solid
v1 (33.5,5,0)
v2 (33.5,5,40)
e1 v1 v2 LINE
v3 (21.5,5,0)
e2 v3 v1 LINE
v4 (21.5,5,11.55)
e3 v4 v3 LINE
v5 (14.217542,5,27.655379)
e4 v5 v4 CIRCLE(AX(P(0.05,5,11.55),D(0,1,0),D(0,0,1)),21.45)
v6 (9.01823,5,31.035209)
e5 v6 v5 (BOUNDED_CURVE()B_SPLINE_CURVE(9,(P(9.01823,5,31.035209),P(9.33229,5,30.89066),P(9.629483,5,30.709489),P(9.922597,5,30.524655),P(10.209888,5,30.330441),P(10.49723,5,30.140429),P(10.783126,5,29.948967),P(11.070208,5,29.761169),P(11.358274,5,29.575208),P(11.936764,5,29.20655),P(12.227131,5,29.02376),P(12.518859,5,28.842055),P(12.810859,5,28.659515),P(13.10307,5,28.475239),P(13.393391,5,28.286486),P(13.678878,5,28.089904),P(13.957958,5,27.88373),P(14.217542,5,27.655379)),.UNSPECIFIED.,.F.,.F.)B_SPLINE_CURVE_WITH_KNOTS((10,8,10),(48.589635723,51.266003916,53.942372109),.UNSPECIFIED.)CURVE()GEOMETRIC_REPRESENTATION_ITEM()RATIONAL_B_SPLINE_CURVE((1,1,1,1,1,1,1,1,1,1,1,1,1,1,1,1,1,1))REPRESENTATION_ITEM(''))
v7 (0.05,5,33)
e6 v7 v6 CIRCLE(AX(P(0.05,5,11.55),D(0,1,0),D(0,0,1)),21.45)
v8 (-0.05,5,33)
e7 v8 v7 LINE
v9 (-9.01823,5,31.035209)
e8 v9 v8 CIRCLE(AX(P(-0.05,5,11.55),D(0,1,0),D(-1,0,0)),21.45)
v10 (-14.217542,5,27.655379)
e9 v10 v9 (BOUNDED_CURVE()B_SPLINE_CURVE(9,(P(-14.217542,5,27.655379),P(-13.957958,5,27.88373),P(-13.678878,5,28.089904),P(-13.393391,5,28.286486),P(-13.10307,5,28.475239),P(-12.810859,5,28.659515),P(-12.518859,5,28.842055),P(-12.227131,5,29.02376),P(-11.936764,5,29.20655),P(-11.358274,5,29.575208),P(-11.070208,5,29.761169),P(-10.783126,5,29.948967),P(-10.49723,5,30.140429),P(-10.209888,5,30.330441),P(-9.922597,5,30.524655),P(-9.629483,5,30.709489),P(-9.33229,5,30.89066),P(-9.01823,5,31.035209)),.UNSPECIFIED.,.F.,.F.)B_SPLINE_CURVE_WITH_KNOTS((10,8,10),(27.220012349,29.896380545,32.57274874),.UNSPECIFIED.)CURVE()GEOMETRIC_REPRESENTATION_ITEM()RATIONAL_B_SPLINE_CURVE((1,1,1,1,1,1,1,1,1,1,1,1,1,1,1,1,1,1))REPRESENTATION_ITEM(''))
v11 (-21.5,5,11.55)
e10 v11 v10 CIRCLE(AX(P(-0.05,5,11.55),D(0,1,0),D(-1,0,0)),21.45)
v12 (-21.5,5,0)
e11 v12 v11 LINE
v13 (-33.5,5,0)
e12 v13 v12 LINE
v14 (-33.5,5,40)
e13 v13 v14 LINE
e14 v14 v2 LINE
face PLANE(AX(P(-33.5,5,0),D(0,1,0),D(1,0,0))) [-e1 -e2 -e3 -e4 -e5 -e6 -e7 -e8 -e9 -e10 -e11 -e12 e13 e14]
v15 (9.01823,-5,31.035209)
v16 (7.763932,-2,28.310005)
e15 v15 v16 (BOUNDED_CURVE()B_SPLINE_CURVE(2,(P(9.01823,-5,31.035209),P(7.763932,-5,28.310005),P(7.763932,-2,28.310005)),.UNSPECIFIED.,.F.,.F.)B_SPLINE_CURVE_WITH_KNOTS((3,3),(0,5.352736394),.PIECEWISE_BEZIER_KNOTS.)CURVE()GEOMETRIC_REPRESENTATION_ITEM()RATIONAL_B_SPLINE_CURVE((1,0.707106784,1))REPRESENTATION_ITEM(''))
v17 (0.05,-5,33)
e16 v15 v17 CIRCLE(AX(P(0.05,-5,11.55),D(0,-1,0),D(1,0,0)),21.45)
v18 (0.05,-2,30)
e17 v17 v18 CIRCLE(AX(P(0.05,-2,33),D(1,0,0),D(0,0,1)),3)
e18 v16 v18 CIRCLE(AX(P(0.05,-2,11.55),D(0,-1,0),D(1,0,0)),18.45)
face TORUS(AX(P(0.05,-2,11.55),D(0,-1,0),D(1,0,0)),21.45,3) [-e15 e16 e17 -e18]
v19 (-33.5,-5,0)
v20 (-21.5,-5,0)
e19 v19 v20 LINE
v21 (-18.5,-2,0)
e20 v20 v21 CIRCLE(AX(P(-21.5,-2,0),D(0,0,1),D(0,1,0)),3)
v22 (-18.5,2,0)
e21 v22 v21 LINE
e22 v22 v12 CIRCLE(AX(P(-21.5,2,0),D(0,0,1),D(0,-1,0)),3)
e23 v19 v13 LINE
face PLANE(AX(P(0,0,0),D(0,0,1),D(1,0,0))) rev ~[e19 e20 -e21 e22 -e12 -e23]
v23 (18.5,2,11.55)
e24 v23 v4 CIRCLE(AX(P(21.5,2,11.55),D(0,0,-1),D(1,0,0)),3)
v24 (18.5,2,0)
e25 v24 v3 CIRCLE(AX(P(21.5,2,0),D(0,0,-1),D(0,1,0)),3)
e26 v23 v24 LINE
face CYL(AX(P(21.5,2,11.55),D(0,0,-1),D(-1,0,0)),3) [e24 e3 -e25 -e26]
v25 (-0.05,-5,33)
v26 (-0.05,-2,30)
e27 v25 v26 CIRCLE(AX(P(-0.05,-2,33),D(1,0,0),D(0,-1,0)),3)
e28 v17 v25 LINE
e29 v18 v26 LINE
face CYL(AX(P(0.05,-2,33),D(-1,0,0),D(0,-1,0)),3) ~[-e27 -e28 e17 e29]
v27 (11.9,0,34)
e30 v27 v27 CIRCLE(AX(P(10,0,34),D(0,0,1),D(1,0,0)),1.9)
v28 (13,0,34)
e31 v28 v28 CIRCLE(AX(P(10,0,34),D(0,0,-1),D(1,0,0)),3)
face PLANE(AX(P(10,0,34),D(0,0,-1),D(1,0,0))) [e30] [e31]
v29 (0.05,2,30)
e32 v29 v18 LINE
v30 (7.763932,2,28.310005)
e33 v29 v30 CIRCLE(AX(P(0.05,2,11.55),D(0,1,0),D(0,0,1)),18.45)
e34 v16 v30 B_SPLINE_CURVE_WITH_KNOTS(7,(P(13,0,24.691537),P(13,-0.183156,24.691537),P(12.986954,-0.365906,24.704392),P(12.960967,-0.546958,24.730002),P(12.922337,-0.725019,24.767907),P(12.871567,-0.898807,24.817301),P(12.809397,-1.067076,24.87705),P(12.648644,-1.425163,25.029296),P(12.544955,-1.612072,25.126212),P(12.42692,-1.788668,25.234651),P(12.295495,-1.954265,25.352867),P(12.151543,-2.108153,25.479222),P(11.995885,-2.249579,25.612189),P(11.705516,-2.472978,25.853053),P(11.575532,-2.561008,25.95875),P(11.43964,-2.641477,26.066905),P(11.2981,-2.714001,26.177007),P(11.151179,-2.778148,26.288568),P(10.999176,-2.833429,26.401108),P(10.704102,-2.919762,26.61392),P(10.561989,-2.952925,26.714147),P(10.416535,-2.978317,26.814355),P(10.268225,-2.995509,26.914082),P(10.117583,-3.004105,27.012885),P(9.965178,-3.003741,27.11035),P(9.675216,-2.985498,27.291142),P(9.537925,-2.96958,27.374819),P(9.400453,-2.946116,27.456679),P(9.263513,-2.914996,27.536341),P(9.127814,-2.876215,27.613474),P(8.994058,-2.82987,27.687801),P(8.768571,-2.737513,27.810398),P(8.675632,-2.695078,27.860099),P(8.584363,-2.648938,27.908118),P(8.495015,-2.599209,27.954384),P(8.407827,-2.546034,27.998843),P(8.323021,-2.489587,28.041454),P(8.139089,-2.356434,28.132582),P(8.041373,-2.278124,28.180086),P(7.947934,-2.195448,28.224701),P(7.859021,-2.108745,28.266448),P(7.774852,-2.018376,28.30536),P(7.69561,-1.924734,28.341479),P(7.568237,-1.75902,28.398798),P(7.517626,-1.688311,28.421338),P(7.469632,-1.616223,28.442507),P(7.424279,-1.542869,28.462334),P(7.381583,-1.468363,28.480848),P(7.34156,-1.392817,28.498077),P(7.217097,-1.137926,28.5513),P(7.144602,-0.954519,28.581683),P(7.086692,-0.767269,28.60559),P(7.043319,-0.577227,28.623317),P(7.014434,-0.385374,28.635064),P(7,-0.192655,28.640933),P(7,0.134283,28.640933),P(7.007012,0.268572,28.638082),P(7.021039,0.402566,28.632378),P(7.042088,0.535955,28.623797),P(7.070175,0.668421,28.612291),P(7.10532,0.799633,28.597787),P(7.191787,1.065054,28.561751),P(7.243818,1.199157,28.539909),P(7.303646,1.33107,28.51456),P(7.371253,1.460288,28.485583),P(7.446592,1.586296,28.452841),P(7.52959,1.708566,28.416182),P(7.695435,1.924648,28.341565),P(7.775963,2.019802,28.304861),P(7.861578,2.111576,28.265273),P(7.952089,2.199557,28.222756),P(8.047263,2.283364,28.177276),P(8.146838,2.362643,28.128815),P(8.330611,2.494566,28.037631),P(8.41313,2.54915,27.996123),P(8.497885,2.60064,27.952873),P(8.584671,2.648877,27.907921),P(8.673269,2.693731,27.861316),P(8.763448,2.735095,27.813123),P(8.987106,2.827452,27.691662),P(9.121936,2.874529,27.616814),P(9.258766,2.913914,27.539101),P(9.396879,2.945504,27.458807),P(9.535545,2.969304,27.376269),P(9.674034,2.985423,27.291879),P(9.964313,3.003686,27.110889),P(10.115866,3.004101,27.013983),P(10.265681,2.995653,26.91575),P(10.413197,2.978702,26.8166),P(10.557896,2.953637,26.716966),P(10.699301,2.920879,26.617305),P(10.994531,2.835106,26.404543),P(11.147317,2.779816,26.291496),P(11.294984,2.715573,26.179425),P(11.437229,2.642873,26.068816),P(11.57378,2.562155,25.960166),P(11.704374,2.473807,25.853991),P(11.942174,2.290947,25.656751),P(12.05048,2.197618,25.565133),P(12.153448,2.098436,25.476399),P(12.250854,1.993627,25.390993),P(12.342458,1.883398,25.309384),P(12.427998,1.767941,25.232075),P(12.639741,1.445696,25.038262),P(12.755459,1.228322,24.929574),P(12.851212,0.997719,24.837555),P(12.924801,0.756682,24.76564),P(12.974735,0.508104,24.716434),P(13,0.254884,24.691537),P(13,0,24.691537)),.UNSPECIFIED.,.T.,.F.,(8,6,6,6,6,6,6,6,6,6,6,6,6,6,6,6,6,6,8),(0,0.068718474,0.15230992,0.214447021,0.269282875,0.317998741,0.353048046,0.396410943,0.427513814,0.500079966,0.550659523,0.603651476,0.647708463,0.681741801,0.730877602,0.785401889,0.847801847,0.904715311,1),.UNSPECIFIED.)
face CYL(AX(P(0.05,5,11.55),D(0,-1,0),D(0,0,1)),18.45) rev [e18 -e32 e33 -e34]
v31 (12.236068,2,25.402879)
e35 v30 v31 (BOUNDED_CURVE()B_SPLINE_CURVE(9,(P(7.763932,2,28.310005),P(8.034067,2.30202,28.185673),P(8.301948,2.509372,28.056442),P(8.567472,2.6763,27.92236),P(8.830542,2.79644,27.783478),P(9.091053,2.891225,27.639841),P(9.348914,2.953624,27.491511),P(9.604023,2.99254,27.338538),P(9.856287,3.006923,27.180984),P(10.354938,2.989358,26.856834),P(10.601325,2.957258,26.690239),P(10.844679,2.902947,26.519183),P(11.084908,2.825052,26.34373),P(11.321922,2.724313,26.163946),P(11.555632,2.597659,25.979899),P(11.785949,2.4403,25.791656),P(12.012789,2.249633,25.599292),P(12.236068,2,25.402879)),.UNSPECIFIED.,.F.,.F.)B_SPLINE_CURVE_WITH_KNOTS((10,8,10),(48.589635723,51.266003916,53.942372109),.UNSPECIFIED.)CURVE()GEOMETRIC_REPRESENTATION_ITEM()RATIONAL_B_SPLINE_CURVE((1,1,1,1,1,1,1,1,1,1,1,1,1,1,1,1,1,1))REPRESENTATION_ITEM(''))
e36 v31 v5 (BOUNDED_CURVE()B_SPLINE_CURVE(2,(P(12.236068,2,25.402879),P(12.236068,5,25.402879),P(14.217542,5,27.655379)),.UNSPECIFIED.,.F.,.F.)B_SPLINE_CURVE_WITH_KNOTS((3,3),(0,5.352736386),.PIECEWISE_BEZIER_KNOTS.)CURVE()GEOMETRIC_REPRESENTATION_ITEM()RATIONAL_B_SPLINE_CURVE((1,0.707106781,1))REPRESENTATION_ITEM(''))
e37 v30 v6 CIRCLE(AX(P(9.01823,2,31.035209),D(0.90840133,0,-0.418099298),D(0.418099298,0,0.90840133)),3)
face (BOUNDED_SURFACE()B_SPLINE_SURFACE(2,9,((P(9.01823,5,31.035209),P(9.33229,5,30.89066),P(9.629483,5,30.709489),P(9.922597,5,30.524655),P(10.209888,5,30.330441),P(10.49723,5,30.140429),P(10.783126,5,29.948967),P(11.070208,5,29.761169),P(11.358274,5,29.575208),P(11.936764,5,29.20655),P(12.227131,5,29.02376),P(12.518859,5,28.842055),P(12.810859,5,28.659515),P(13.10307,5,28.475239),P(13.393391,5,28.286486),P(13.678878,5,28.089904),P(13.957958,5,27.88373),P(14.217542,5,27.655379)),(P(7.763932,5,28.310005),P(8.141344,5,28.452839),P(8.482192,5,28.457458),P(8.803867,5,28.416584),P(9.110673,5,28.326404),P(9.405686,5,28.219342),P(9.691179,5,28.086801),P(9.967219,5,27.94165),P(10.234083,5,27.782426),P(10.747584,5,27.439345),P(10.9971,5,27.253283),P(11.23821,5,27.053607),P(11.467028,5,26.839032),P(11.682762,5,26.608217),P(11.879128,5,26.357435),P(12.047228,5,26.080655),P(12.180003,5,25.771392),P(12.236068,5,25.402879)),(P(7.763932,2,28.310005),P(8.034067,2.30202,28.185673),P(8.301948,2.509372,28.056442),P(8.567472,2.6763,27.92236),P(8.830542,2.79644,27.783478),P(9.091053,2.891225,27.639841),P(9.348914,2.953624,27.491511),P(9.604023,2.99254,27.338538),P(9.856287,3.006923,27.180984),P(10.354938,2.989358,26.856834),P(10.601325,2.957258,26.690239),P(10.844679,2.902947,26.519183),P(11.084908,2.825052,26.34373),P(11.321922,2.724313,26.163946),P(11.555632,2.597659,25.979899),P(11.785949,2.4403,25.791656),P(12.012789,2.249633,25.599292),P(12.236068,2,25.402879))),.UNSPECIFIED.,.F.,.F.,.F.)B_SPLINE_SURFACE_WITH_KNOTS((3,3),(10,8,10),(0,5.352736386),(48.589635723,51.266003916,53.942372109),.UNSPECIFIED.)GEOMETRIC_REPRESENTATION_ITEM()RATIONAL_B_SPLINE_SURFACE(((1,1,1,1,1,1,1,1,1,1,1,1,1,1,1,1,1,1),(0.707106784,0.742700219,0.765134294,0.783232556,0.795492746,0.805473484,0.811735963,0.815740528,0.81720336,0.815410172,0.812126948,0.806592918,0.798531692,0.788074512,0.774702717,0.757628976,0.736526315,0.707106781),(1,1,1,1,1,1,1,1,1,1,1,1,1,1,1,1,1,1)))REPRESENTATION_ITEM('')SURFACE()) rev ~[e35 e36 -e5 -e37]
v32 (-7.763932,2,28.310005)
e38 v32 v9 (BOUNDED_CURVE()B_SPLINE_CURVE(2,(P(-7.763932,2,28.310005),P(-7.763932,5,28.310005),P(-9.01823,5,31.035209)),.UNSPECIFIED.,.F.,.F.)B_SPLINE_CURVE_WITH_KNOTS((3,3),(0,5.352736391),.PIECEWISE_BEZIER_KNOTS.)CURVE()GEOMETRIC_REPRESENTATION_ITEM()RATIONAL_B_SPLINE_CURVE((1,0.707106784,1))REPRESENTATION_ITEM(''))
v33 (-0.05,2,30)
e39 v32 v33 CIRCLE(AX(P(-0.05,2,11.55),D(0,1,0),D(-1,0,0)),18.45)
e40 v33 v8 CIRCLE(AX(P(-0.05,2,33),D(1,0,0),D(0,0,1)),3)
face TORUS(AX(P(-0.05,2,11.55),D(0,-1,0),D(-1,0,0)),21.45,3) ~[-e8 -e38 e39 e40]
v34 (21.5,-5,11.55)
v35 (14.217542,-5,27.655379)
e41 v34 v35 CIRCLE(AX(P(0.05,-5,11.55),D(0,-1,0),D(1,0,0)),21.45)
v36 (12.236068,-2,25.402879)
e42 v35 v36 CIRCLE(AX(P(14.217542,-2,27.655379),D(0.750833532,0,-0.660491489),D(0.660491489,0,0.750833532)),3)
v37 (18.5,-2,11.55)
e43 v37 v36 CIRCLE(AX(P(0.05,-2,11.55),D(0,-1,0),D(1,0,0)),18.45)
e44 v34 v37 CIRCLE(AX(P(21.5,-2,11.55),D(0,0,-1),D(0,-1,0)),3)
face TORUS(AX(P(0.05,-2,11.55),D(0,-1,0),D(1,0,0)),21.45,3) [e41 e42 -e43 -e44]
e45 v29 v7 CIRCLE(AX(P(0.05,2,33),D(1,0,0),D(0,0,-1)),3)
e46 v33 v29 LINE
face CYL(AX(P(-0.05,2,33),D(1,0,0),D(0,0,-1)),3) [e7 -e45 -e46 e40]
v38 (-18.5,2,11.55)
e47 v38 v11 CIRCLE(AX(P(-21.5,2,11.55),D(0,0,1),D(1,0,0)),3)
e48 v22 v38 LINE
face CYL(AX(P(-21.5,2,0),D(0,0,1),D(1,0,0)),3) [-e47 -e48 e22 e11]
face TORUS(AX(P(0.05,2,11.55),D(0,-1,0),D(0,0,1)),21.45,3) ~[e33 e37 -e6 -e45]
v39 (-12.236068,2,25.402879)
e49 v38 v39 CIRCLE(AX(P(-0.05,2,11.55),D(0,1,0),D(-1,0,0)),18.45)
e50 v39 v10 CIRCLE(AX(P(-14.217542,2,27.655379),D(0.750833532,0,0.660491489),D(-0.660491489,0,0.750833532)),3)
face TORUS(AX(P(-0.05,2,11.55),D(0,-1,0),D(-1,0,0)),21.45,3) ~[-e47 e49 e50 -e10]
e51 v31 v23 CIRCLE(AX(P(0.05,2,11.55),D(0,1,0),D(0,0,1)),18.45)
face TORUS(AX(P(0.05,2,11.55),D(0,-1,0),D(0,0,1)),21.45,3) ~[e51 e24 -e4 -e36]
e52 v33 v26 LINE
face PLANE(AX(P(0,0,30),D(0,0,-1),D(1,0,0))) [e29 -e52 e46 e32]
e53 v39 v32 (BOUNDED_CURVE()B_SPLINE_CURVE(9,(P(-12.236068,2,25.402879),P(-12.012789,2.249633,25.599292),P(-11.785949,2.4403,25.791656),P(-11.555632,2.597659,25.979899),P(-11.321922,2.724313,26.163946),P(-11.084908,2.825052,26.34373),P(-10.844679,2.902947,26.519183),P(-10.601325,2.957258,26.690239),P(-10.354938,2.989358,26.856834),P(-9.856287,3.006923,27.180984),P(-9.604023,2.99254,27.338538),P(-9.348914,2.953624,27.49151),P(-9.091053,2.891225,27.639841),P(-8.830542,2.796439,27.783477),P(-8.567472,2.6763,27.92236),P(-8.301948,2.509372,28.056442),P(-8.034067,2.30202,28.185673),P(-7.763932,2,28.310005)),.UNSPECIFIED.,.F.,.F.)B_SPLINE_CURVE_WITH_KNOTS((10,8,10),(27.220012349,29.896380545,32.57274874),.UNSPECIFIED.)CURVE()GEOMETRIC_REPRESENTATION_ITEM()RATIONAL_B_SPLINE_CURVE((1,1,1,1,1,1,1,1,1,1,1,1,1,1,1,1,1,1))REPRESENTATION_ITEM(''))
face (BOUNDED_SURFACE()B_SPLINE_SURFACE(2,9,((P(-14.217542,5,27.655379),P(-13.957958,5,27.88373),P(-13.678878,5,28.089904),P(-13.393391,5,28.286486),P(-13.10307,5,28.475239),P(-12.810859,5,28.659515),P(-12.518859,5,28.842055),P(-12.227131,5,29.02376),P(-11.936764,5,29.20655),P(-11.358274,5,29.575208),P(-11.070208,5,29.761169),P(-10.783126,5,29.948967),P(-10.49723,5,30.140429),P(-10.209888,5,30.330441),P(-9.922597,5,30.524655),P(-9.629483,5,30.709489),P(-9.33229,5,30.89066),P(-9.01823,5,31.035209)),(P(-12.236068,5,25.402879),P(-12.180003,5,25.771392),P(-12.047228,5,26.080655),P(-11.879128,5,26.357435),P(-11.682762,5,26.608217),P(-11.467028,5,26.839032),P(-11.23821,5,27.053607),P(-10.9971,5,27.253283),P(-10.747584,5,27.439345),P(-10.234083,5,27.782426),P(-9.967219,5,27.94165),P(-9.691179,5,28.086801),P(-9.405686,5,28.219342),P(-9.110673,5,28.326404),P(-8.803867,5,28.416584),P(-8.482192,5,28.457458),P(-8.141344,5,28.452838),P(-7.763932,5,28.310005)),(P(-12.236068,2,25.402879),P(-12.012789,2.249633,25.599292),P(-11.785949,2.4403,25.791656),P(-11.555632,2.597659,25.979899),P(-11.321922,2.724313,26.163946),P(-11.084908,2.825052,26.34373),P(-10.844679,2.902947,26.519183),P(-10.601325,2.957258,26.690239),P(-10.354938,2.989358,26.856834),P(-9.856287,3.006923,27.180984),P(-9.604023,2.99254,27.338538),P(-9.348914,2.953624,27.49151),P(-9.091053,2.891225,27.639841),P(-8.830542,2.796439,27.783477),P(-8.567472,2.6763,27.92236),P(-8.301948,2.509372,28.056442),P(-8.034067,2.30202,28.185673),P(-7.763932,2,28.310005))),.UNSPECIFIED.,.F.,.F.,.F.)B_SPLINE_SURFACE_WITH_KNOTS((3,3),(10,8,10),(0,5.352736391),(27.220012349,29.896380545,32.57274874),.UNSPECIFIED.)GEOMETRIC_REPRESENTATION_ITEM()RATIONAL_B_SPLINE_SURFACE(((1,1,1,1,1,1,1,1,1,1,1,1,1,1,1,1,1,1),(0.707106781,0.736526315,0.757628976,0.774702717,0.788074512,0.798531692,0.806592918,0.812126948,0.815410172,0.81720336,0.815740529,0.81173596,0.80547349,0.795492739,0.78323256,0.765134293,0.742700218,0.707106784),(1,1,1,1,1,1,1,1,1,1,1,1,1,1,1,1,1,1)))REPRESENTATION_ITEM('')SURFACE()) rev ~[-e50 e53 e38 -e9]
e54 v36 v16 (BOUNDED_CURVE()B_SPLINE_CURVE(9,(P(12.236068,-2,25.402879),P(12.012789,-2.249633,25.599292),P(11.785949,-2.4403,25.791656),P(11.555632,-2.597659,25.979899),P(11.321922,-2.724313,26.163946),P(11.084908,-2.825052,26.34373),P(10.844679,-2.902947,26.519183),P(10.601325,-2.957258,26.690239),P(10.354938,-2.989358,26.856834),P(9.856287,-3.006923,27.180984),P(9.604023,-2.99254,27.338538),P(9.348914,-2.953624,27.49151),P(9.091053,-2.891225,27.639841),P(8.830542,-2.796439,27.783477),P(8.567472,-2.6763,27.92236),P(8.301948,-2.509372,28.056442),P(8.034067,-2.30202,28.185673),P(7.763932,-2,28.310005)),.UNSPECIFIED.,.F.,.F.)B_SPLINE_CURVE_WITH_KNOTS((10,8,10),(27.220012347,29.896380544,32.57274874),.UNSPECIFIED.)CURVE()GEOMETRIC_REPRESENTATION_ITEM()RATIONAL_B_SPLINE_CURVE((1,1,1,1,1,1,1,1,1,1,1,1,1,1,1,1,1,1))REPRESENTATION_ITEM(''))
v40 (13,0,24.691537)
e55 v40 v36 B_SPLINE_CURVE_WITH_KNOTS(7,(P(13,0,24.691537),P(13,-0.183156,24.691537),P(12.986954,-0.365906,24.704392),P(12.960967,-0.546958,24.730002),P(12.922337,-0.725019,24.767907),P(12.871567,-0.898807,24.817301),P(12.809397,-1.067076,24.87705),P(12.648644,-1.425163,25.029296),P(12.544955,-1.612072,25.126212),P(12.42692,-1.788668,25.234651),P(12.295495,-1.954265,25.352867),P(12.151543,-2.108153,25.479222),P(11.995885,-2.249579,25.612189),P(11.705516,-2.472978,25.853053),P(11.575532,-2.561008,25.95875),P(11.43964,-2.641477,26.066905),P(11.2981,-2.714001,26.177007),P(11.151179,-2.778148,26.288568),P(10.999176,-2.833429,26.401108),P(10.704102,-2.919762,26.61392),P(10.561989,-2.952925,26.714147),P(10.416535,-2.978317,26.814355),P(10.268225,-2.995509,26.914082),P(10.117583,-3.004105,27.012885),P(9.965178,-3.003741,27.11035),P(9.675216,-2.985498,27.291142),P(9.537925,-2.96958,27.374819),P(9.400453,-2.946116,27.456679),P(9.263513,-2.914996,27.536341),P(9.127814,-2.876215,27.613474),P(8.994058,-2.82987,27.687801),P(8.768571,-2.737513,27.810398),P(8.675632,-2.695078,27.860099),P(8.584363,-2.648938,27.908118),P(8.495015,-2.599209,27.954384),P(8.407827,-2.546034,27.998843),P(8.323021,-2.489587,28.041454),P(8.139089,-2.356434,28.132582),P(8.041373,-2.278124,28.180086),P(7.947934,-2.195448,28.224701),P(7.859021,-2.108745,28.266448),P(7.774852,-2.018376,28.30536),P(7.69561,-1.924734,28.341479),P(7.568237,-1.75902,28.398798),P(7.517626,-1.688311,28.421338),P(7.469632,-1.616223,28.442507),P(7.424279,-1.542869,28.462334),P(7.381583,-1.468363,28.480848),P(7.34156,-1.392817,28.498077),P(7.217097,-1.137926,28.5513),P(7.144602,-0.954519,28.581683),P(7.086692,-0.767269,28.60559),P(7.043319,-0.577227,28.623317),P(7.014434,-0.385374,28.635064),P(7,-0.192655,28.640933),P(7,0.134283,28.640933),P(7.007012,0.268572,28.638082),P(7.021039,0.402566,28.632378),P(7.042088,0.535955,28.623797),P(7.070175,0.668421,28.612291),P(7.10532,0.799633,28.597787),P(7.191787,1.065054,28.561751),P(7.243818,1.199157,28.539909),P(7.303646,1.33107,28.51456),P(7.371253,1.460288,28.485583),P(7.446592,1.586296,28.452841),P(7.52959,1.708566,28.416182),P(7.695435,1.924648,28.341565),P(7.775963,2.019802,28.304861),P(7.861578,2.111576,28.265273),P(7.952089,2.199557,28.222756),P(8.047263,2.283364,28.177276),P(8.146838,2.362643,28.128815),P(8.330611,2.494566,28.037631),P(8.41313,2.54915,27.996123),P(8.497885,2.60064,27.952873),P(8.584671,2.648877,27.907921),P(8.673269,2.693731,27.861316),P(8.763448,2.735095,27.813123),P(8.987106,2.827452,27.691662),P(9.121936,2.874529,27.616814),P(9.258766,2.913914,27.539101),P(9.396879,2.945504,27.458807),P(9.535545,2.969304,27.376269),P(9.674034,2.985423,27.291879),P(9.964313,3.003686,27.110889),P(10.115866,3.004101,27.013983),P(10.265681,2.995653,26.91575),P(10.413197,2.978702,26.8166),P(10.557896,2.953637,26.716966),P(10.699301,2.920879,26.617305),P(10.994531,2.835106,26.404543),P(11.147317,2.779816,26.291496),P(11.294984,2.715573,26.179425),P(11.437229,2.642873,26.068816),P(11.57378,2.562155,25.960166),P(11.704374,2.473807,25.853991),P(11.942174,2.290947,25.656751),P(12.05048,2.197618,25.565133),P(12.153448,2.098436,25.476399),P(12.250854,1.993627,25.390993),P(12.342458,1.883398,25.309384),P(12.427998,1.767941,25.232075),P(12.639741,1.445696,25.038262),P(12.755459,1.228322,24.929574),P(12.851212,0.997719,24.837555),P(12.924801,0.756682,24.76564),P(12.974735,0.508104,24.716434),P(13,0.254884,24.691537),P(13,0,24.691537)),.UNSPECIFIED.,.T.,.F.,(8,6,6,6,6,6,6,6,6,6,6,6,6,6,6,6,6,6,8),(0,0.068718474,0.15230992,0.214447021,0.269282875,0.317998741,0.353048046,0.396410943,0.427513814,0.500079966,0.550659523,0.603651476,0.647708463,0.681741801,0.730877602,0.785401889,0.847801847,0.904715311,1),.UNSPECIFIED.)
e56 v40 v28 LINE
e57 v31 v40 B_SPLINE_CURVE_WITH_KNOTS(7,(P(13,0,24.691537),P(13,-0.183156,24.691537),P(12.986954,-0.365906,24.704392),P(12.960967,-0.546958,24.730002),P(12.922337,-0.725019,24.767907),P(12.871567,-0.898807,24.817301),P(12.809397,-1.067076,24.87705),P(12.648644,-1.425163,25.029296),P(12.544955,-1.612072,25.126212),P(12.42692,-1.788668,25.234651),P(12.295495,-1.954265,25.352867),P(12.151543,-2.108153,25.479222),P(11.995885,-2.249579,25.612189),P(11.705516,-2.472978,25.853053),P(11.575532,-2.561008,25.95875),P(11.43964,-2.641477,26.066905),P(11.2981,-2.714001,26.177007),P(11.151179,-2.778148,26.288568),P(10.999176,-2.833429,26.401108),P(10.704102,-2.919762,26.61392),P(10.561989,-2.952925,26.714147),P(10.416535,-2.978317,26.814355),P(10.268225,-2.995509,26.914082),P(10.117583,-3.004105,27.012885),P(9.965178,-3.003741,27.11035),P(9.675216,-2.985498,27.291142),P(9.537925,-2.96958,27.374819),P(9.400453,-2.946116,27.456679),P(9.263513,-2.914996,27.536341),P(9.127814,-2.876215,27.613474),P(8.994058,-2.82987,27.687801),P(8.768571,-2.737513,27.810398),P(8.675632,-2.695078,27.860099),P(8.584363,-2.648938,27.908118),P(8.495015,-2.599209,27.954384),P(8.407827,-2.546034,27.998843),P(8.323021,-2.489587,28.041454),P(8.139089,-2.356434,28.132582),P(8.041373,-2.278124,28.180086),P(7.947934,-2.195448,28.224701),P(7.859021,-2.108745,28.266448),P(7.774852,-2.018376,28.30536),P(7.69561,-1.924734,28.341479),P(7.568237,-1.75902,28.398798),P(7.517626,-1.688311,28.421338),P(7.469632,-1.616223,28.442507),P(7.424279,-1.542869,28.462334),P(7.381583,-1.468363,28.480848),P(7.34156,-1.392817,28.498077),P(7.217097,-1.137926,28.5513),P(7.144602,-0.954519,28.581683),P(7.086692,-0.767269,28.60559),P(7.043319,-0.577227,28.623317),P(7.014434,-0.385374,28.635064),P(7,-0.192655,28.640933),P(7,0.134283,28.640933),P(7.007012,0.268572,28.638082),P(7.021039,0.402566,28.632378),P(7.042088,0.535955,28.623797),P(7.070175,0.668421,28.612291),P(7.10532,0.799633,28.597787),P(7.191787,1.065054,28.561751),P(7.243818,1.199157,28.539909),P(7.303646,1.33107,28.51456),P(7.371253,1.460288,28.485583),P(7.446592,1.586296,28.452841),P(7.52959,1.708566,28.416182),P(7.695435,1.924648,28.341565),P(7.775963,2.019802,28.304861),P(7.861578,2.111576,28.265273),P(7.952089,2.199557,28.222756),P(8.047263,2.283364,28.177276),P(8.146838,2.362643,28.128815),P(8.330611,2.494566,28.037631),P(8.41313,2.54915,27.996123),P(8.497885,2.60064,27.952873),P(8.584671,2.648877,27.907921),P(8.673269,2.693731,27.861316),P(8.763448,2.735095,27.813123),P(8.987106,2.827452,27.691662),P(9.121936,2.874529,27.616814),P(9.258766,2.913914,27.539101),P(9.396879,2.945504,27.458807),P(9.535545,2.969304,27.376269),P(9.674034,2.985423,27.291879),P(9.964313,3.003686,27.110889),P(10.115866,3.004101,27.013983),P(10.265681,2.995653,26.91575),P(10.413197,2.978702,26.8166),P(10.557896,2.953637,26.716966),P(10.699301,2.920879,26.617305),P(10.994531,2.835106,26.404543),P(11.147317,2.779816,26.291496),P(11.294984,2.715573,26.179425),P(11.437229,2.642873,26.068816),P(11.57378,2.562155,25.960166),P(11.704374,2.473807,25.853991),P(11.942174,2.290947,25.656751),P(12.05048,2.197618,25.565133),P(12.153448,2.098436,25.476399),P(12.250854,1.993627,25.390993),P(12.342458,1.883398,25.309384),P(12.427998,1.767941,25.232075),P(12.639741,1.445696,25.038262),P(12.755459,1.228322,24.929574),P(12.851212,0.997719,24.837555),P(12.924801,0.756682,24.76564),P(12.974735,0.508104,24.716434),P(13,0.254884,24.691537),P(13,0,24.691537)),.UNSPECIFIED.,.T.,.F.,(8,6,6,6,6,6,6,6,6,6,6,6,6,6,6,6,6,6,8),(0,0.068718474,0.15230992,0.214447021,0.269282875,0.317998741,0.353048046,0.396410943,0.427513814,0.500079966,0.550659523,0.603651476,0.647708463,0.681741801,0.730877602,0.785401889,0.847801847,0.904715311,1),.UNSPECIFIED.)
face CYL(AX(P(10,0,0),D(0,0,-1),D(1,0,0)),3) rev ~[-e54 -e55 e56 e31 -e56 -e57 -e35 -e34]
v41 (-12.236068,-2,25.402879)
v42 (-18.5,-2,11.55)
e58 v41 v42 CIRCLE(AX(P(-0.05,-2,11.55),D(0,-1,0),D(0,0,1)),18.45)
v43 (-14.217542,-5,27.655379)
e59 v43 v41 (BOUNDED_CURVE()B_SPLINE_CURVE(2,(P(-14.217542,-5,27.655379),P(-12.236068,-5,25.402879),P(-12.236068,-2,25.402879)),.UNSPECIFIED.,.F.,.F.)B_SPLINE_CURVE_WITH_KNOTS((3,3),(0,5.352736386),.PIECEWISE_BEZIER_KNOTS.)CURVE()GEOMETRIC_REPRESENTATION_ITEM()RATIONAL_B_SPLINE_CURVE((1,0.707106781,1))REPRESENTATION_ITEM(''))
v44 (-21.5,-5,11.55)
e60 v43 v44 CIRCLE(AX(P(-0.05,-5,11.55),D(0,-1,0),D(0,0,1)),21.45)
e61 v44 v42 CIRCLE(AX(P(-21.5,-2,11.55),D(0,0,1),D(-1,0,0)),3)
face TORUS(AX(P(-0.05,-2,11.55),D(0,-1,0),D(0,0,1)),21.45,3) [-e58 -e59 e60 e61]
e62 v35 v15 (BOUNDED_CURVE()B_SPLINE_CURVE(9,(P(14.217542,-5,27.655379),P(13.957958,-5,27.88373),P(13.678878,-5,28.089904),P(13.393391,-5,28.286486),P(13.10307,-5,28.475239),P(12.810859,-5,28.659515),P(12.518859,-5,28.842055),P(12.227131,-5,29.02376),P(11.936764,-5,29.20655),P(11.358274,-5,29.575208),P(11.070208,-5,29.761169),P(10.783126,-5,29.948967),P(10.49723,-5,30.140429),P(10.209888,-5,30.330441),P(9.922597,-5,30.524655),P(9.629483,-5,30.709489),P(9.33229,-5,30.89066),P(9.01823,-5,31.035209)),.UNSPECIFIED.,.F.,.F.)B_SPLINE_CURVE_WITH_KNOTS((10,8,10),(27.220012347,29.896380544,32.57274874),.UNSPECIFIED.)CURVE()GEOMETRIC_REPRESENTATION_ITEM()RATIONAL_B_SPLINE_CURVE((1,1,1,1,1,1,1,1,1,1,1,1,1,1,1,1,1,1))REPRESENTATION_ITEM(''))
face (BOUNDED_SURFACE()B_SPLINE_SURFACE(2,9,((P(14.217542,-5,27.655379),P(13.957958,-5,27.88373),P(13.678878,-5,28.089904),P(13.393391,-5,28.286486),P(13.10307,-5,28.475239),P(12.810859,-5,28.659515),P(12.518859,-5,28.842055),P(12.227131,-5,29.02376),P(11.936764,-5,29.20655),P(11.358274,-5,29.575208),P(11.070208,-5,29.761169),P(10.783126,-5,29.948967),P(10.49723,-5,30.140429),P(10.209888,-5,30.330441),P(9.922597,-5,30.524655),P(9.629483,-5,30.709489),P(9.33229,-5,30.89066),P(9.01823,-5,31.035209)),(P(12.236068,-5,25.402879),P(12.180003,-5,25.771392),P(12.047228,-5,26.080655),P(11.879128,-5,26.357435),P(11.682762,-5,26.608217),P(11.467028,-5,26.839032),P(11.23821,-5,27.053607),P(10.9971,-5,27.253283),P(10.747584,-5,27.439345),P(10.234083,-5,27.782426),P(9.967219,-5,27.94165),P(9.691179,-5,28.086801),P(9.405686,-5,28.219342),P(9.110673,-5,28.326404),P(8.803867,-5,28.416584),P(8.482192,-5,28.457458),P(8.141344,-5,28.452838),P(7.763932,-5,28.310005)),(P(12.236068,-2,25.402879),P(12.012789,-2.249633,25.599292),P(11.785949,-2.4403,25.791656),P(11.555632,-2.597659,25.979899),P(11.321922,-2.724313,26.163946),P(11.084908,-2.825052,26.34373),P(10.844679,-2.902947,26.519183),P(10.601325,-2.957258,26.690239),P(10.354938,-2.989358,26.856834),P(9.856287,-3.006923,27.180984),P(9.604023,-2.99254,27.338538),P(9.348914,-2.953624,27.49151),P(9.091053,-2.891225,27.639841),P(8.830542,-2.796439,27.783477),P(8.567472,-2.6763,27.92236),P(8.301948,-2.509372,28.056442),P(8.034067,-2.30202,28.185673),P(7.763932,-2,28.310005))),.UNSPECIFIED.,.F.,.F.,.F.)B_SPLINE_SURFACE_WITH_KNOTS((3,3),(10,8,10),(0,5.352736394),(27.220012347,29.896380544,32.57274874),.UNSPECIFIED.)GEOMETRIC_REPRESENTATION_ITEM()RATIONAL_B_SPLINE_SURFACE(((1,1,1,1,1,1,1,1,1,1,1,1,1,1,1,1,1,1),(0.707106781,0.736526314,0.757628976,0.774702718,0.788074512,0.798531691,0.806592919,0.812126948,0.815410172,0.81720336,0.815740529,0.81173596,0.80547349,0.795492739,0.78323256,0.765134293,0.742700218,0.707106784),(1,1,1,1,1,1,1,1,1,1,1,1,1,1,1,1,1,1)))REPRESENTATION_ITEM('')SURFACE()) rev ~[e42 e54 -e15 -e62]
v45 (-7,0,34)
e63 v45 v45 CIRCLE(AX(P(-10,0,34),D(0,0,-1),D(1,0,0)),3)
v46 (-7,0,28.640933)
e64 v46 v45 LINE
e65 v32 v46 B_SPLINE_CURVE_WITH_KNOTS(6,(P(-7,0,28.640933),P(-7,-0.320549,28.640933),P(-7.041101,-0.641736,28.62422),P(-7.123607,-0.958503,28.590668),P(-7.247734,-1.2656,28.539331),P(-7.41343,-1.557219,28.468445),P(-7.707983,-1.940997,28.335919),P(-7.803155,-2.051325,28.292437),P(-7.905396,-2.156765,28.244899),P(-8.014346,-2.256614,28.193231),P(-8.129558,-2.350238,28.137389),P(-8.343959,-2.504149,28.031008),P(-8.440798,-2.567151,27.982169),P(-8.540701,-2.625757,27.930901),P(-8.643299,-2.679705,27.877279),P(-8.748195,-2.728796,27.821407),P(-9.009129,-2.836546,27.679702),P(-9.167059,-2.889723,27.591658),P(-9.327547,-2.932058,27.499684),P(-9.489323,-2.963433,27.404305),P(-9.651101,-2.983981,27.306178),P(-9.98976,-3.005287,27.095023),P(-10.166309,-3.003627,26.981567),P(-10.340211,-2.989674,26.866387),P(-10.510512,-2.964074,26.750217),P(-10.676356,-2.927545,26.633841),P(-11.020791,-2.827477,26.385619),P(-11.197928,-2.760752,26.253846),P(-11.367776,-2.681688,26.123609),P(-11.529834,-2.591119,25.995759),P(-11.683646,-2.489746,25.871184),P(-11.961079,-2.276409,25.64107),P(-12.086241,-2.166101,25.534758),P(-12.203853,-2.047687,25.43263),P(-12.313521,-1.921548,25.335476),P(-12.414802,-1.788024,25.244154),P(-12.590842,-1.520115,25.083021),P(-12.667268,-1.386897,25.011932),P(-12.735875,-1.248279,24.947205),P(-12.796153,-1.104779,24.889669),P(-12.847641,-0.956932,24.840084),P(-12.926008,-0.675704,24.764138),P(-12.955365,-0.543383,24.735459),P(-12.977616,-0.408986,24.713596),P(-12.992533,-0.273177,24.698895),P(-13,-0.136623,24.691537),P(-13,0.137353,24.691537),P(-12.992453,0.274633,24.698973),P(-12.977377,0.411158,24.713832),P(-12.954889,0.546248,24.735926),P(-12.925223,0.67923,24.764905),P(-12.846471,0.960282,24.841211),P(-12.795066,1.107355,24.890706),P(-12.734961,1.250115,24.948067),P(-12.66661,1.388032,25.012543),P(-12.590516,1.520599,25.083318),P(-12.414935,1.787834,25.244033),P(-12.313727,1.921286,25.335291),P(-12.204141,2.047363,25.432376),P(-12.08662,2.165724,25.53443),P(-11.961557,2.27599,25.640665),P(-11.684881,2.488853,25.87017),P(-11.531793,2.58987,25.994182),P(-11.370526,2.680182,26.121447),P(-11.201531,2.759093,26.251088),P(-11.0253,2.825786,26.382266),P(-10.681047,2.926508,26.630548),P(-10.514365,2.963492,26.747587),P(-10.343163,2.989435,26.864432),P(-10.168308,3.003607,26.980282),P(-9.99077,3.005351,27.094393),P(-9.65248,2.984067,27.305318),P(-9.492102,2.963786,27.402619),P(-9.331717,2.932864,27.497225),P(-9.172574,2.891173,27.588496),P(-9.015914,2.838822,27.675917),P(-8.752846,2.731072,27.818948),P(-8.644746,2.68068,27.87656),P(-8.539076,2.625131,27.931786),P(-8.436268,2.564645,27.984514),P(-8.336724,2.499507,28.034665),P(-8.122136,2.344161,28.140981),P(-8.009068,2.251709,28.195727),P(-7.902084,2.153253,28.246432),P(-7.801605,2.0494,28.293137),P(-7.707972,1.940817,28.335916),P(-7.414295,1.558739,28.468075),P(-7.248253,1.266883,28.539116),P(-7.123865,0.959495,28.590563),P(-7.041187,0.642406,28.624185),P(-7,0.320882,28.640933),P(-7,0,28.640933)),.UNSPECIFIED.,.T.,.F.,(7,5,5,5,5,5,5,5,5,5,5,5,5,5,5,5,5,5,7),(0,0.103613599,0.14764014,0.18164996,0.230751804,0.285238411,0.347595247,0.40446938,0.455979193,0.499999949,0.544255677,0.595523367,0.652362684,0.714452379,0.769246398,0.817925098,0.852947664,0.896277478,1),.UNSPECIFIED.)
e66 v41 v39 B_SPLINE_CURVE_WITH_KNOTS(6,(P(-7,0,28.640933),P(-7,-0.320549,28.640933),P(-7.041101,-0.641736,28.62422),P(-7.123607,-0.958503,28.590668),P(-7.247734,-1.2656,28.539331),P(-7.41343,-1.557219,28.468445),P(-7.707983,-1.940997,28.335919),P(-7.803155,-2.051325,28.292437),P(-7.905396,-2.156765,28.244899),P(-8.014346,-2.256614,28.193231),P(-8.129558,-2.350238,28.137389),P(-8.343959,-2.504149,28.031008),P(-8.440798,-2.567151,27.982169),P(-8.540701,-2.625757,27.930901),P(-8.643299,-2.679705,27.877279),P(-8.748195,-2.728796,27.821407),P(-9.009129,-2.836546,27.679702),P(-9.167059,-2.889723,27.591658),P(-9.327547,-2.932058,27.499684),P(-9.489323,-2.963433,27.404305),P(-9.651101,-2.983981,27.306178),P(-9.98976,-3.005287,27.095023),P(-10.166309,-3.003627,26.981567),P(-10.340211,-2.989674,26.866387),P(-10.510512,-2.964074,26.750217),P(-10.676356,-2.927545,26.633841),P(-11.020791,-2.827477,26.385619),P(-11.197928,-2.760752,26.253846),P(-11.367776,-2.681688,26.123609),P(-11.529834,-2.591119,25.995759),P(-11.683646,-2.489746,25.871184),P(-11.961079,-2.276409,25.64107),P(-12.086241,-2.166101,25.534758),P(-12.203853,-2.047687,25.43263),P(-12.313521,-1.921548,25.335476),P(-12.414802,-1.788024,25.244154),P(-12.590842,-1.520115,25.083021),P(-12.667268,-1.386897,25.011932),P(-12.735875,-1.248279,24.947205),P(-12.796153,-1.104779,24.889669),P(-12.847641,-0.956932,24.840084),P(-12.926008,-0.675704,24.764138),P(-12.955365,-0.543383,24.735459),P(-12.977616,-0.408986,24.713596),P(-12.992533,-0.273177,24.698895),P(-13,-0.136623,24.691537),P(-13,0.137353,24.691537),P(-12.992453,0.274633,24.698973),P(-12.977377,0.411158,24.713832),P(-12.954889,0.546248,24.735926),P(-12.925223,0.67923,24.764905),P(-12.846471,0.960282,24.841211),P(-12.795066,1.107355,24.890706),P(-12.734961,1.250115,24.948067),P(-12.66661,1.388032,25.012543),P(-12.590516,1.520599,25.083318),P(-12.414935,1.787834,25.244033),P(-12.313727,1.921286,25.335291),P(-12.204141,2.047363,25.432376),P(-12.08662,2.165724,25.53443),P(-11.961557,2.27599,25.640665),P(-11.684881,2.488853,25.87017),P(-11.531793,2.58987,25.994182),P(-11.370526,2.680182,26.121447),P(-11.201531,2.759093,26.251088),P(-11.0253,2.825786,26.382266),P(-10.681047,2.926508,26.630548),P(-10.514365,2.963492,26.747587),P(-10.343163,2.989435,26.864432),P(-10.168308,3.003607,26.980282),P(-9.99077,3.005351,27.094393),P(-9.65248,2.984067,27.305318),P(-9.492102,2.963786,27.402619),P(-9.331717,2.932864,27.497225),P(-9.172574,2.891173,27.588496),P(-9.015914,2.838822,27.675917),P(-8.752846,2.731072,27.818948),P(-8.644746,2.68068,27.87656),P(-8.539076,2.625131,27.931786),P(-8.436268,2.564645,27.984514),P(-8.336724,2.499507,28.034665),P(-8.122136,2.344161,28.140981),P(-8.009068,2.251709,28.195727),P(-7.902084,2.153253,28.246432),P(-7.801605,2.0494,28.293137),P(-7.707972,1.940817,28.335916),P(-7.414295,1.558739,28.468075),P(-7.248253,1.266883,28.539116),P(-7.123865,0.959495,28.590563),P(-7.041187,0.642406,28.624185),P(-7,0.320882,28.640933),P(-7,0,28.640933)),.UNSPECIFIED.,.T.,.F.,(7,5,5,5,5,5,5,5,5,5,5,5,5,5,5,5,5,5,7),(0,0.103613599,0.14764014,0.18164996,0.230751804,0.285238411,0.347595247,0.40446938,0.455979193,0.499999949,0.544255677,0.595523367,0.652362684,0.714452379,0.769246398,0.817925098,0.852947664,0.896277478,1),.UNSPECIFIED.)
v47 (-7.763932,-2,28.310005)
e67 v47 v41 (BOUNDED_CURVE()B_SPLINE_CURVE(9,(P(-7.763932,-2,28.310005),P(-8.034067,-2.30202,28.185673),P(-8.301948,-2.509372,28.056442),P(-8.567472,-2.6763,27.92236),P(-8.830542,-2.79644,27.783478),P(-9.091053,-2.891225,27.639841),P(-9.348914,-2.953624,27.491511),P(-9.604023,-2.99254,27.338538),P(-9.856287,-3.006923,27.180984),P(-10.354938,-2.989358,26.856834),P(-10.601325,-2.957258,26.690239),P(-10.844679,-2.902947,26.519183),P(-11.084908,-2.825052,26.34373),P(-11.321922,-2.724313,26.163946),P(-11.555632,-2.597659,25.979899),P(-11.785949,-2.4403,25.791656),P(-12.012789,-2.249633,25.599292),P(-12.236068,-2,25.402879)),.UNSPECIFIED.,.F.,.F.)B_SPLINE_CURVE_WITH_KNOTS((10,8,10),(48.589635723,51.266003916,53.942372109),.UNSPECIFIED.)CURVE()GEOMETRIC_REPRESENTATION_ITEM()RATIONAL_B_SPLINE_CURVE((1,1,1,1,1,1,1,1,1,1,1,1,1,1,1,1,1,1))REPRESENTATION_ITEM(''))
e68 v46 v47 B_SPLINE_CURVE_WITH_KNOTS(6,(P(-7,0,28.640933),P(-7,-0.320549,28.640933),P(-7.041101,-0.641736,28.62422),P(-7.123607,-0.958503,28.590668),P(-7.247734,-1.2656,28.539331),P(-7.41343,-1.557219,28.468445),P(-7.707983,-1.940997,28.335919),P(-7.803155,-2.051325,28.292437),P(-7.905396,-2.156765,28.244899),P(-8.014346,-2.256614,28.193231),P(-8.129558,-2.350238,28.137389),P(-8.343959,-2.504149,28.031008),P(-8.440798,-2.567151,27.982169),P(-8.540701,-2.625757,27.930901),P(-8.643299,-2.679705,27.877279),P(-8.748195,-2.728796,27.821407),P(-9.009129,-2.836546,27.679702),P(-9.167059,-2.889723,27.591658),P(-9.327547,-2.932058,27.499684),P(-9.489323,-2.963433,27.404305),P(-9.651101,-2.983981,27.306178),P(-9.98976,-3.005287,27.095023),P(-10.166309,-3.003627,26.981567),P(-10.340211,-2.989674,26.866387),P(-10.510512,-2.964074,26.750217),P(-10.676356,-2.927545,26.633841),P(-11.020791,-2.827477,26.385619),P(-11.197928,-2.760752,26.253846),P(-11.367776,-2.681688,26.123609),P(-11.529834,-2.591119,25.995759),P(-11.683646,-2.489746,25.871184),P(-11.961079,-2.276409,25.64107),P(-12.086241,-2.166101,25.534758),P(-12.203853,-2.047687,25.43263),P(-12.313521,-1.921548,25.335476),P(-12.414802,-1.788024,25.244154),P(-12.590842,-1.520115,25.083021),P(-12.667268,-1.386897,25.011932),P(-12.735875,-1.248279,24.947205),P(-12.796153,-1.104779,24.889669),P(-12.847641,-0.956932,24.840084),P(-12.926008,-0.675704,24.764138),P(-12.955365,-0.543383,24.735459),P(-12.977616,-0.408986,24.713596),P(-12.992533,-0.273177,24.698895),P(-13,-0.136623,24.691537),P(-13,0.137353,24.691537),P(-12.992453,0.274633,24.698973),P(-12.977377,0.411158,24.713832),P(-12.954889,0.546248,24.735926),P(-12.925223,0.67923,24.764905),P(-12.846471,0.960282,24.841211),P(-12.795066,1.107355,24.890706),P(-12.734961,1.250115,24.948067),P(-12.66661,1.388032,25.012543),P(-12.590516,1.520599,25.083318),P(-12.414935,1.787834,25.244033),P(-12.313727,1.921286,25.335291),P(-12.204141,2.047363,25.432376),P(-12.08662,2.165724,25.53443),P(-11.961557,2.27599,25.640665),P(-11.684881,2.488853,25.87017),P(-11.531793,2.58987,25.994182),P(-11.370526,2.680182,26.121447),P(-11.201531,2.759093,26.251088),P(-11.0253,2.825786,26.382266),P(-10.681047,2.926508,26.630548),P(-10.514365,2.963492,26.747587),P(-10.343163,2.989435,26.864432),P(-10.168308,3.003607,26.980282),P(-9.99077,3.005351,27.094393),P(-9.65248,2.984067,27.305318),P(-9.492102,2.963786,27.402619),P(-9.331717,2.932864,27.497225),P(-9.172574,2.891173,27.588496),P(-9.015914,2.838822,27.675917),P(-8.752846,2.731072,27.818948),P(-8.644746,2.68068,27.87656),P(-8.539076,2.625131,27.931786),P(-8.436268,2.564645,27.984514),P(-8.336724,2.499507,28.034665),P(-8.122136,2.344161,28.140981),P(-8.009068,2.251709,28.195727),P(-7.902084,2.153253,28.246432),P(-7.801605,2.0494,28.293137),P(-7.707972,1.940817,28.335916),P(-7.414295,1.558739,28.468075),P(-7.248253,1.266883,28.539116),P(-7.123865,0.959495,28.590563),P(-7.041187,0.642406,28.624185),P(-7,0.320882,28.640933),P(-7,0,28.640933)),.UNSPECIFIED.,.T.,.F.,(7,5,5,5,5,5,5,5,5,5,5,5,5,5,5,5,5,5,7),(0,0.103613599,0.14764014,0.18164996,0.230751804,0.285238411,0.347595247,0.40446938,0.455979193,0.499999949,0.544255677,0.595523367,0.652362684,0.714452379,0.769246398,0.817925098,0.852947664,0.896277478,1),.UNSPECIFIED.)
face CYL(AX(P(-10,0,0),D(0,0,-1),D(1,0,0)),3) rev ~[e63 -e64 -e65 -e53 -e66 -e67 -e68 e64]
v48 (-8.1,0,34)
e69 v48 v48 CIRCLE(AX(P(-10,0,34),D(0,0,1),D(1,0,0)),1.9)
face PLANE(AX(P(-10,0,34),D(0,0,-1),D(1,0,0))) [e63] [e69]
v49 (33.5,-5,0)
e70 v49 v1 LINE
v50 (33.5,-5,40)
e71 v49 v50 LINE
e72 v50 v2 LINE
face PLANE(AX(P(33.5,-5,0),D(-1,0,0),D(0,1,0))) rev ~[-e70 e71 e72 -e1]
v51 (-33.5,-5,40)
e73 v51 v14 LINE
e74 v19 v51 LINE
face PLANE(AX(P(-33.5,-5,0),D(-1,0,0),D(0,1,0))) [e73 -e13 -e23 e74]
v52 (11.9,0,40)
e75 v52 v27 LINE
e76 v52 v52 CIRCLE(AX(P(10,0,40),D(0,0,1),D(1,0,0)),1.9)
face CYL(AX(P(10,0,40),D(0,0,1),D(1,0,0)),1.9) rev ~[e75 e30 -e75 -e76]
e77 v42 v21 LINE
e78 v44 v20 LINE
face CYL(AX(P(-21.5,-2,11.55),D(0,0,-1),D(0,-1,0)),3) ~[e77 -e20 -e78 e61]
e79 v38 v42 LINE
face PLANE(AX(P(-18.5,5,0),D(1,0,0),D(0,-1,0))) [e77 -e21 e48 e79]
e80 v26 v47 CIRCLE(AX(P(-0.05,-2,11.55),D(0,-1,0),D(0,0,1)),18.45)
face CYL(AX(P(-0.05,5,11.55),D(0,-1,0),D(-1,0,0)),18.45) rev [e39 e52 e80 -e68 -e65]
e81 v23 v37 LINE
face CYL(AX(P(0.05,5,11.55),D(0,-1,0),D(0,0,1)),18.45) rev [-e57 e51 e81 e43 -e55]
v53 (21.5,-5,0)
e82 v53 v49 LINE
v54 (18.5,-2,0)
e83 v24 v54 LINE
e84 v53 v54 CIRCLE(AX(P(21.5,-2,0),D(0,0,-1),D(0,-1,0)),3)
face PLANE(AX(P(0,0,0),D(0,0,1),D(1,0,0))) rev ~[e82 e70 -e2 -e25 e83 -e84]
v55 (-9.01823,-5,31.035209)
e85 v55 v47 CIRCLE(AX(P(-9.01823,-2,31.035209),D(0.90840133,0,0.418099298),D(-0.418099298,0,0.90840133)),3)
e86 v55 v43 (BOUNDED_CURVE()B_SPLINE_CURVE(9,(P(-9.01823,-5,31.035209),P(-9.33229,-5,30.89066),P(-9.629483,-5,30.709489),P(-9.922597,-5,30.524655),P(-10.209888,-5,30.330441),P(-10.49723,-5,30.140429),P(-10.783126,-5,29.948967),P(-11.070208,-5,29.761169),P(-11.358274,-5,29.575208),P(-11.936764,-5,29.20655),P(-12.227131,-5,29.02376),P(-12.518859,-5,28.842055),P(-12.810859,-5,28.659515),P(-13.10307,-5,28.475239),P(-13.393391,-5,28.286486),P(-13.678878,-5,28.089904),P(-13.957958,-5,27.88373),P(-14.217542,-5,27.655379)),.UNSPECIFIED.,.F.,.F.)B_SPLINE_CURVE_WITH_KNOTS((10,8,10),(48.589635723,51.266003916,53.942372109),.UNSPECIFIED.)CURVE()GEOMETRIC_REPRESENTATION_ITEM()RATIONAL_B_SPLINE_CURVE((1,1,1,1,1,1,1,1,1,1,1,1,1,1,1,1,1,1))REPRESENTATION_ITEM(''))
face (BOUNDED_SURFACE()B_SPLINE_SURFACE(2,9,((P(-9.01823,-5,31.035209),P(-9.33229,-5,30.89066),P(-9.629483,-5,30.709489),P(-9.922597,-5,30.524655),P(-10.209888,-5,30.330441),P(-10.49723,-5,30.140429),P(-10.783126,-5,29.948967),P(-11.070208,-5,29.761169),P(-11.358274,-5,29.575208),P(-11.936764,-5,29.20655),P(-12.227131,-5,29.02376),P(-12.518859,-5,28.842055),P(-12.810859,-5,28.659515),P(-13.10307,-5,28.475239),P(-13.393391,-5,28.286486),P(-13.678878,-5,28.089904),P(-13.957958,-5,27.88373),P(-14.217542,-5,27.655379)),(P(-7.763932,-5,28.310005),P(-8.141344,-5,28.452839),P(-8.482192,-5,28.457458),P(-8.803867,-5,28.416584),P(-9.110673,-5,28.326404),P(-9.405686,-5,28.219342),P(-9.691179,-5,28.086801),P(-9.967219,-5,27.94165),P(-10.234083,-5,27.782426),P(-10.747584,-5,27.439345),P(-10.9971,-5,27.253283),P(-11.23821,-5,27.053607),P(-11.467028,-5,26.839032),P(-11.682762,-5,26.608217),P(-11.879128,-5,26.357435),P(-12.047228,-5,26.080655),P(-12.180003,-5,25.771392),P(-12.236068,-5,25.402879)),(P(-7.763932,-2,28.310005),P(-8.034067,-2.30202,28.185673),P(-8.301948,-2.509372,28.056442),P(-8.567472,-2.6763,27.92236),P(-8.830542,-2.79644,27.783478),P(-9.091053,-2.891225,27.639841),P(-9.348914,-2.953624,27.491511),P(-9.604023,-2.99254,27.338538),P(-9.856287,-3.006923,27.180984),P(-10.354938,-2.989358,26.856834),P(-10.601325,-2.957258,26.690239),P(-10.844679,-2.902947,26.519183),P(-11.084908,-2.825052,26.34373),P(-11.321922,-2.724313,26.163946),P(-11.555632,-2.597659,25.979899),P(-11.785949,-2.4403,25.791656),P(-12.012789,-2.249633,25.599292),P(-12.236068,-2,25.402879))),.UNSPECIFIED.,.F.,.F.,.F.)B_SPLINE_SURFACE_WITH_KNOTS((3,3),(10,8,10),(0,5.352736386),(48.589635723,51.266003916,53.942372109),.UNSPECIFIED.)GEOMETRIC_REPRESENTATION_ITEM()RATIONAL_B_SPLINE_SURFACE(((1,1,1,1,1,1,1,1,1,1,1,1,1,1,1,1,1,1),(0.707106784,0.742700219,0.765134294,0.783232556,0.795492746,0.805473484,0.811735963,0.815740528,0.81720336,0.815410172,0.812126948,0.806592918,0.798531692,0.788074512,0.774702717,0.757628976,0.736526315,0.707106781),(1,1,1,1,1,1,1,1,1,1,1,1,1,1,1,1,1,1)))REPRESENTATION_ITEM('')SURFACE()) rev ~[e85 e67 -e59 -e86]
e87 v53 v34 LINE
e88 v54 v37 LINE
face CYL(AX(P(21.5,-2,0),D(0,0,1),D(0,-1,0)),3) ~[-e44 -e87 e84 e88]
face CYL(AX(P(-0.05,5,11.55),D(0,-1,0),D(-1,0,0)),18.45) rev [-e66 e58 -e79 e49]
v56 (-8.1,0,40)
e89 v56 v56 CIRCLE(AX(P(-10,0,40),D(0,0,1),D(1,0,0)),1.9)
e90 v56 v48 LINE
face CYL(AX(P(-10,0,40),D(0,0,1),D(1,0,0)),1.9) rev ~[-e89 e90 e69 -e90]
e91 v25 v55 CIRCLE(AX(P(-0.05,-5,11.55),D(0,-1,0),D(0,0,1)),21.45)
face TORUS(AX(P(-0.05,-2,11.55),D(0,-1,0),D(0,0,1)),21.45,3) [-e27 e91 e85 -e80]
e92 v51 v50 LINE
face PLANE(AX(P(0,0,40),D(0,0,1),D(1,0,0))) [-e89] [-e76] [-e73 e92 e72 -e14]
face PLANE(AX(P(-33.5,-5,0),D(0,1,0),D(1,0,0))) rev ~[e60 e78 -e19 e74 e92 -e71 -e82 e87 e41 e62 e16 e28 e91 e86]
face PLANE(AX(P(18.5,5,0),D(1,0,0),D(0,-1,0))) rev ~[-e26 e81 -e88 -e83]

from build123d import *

# Parameters (mm, degrees)
SKETCH_W        = 67
SKETCH_H        = 10
PAD_DEPTH       = 40
SKETCH001_W     = 37
SKETCH001_H     = 10
POCKET_DEPTH    = 30
FILLET_R        = 18.45
SKETCH002_R     = 3
POCKET001_DEPTH = 34
SKETCH003_R     = 1.9
POCKET002_DEPTH = 6
FILLET001_R     = 3
FILLET002_R     = 3


with BuildPart() as part:
    # Sketch → Pad (new body)
    with BuildSketch(Plane.XY):
        Rectangle(SKETCH_W, SKETCH_H)
    extrude(amount=PAD_DEPTH)

    # Sketch001 (on Face5 of Pad) → Pocket (cut)
    with BuildSketch(Plane(origin=(0, 0, 0), x_dir=(1, 0, 0), z_dir=(0, 0, -1))):
        Rectangle(SKETCH001_W, SKETCH001_H)
    extrude(amount=-POCKET_DEPTH, mode=Mode.SUBTRACT)

    # Fillet
    fillet_edges = [part.edges().sort_by_distance(p)[0] for p in [
        (-18.5, 0, 30),
        (18.5, 0, 30),
    ]]
    fillet(fillet_edges, radius=FILLET_R)

    # Sketch002 (on Face4 of Fillet) → Pocket001 (cut)
    with BuildSketch(Plane(origin=(0, 0, 0), x_dir=(1, 0, 0), z_dir=(0, 0, -1))):
        with Locations((-10, 0)):
            Circle(SKETCH002_R)
        with Locations((10, 0)):
            Circle(SKETCH002_R)
    extrude(amount=-POCKET001_DEPTH, mode=Mode.SUBTRACT)

    # Sketch003 (on Face8 of Pocket001) → Pocket002 (cut)
    with BuildSketch(Plane.XY.offset(40)):
        with Locations((-10, 0)):
            Circle(SKETCH003_R)
        with Locations((10, 0)):
            Circle(SKETCH003_R)
    extrude(amount=-POCKET002_DEPTH, mode=Mode.SUBTRACT)

    # Fillet001
    fillet001_edges = [part.edges().sort_by_distance(p)[0] for p in [
        (18.5, -5, 5.775),
    ]]
    fillet(fillet001_edges, radius=FILLET001_R)

    # Fillet002
    fillet002_edges = [part.edges().sort_by_distance(p)[0] for p in [
        (-18.5, 5, 5.775),
    ]]
    fillet(fillet002_edges, radius=FILLET002_R)


solid = part.part
